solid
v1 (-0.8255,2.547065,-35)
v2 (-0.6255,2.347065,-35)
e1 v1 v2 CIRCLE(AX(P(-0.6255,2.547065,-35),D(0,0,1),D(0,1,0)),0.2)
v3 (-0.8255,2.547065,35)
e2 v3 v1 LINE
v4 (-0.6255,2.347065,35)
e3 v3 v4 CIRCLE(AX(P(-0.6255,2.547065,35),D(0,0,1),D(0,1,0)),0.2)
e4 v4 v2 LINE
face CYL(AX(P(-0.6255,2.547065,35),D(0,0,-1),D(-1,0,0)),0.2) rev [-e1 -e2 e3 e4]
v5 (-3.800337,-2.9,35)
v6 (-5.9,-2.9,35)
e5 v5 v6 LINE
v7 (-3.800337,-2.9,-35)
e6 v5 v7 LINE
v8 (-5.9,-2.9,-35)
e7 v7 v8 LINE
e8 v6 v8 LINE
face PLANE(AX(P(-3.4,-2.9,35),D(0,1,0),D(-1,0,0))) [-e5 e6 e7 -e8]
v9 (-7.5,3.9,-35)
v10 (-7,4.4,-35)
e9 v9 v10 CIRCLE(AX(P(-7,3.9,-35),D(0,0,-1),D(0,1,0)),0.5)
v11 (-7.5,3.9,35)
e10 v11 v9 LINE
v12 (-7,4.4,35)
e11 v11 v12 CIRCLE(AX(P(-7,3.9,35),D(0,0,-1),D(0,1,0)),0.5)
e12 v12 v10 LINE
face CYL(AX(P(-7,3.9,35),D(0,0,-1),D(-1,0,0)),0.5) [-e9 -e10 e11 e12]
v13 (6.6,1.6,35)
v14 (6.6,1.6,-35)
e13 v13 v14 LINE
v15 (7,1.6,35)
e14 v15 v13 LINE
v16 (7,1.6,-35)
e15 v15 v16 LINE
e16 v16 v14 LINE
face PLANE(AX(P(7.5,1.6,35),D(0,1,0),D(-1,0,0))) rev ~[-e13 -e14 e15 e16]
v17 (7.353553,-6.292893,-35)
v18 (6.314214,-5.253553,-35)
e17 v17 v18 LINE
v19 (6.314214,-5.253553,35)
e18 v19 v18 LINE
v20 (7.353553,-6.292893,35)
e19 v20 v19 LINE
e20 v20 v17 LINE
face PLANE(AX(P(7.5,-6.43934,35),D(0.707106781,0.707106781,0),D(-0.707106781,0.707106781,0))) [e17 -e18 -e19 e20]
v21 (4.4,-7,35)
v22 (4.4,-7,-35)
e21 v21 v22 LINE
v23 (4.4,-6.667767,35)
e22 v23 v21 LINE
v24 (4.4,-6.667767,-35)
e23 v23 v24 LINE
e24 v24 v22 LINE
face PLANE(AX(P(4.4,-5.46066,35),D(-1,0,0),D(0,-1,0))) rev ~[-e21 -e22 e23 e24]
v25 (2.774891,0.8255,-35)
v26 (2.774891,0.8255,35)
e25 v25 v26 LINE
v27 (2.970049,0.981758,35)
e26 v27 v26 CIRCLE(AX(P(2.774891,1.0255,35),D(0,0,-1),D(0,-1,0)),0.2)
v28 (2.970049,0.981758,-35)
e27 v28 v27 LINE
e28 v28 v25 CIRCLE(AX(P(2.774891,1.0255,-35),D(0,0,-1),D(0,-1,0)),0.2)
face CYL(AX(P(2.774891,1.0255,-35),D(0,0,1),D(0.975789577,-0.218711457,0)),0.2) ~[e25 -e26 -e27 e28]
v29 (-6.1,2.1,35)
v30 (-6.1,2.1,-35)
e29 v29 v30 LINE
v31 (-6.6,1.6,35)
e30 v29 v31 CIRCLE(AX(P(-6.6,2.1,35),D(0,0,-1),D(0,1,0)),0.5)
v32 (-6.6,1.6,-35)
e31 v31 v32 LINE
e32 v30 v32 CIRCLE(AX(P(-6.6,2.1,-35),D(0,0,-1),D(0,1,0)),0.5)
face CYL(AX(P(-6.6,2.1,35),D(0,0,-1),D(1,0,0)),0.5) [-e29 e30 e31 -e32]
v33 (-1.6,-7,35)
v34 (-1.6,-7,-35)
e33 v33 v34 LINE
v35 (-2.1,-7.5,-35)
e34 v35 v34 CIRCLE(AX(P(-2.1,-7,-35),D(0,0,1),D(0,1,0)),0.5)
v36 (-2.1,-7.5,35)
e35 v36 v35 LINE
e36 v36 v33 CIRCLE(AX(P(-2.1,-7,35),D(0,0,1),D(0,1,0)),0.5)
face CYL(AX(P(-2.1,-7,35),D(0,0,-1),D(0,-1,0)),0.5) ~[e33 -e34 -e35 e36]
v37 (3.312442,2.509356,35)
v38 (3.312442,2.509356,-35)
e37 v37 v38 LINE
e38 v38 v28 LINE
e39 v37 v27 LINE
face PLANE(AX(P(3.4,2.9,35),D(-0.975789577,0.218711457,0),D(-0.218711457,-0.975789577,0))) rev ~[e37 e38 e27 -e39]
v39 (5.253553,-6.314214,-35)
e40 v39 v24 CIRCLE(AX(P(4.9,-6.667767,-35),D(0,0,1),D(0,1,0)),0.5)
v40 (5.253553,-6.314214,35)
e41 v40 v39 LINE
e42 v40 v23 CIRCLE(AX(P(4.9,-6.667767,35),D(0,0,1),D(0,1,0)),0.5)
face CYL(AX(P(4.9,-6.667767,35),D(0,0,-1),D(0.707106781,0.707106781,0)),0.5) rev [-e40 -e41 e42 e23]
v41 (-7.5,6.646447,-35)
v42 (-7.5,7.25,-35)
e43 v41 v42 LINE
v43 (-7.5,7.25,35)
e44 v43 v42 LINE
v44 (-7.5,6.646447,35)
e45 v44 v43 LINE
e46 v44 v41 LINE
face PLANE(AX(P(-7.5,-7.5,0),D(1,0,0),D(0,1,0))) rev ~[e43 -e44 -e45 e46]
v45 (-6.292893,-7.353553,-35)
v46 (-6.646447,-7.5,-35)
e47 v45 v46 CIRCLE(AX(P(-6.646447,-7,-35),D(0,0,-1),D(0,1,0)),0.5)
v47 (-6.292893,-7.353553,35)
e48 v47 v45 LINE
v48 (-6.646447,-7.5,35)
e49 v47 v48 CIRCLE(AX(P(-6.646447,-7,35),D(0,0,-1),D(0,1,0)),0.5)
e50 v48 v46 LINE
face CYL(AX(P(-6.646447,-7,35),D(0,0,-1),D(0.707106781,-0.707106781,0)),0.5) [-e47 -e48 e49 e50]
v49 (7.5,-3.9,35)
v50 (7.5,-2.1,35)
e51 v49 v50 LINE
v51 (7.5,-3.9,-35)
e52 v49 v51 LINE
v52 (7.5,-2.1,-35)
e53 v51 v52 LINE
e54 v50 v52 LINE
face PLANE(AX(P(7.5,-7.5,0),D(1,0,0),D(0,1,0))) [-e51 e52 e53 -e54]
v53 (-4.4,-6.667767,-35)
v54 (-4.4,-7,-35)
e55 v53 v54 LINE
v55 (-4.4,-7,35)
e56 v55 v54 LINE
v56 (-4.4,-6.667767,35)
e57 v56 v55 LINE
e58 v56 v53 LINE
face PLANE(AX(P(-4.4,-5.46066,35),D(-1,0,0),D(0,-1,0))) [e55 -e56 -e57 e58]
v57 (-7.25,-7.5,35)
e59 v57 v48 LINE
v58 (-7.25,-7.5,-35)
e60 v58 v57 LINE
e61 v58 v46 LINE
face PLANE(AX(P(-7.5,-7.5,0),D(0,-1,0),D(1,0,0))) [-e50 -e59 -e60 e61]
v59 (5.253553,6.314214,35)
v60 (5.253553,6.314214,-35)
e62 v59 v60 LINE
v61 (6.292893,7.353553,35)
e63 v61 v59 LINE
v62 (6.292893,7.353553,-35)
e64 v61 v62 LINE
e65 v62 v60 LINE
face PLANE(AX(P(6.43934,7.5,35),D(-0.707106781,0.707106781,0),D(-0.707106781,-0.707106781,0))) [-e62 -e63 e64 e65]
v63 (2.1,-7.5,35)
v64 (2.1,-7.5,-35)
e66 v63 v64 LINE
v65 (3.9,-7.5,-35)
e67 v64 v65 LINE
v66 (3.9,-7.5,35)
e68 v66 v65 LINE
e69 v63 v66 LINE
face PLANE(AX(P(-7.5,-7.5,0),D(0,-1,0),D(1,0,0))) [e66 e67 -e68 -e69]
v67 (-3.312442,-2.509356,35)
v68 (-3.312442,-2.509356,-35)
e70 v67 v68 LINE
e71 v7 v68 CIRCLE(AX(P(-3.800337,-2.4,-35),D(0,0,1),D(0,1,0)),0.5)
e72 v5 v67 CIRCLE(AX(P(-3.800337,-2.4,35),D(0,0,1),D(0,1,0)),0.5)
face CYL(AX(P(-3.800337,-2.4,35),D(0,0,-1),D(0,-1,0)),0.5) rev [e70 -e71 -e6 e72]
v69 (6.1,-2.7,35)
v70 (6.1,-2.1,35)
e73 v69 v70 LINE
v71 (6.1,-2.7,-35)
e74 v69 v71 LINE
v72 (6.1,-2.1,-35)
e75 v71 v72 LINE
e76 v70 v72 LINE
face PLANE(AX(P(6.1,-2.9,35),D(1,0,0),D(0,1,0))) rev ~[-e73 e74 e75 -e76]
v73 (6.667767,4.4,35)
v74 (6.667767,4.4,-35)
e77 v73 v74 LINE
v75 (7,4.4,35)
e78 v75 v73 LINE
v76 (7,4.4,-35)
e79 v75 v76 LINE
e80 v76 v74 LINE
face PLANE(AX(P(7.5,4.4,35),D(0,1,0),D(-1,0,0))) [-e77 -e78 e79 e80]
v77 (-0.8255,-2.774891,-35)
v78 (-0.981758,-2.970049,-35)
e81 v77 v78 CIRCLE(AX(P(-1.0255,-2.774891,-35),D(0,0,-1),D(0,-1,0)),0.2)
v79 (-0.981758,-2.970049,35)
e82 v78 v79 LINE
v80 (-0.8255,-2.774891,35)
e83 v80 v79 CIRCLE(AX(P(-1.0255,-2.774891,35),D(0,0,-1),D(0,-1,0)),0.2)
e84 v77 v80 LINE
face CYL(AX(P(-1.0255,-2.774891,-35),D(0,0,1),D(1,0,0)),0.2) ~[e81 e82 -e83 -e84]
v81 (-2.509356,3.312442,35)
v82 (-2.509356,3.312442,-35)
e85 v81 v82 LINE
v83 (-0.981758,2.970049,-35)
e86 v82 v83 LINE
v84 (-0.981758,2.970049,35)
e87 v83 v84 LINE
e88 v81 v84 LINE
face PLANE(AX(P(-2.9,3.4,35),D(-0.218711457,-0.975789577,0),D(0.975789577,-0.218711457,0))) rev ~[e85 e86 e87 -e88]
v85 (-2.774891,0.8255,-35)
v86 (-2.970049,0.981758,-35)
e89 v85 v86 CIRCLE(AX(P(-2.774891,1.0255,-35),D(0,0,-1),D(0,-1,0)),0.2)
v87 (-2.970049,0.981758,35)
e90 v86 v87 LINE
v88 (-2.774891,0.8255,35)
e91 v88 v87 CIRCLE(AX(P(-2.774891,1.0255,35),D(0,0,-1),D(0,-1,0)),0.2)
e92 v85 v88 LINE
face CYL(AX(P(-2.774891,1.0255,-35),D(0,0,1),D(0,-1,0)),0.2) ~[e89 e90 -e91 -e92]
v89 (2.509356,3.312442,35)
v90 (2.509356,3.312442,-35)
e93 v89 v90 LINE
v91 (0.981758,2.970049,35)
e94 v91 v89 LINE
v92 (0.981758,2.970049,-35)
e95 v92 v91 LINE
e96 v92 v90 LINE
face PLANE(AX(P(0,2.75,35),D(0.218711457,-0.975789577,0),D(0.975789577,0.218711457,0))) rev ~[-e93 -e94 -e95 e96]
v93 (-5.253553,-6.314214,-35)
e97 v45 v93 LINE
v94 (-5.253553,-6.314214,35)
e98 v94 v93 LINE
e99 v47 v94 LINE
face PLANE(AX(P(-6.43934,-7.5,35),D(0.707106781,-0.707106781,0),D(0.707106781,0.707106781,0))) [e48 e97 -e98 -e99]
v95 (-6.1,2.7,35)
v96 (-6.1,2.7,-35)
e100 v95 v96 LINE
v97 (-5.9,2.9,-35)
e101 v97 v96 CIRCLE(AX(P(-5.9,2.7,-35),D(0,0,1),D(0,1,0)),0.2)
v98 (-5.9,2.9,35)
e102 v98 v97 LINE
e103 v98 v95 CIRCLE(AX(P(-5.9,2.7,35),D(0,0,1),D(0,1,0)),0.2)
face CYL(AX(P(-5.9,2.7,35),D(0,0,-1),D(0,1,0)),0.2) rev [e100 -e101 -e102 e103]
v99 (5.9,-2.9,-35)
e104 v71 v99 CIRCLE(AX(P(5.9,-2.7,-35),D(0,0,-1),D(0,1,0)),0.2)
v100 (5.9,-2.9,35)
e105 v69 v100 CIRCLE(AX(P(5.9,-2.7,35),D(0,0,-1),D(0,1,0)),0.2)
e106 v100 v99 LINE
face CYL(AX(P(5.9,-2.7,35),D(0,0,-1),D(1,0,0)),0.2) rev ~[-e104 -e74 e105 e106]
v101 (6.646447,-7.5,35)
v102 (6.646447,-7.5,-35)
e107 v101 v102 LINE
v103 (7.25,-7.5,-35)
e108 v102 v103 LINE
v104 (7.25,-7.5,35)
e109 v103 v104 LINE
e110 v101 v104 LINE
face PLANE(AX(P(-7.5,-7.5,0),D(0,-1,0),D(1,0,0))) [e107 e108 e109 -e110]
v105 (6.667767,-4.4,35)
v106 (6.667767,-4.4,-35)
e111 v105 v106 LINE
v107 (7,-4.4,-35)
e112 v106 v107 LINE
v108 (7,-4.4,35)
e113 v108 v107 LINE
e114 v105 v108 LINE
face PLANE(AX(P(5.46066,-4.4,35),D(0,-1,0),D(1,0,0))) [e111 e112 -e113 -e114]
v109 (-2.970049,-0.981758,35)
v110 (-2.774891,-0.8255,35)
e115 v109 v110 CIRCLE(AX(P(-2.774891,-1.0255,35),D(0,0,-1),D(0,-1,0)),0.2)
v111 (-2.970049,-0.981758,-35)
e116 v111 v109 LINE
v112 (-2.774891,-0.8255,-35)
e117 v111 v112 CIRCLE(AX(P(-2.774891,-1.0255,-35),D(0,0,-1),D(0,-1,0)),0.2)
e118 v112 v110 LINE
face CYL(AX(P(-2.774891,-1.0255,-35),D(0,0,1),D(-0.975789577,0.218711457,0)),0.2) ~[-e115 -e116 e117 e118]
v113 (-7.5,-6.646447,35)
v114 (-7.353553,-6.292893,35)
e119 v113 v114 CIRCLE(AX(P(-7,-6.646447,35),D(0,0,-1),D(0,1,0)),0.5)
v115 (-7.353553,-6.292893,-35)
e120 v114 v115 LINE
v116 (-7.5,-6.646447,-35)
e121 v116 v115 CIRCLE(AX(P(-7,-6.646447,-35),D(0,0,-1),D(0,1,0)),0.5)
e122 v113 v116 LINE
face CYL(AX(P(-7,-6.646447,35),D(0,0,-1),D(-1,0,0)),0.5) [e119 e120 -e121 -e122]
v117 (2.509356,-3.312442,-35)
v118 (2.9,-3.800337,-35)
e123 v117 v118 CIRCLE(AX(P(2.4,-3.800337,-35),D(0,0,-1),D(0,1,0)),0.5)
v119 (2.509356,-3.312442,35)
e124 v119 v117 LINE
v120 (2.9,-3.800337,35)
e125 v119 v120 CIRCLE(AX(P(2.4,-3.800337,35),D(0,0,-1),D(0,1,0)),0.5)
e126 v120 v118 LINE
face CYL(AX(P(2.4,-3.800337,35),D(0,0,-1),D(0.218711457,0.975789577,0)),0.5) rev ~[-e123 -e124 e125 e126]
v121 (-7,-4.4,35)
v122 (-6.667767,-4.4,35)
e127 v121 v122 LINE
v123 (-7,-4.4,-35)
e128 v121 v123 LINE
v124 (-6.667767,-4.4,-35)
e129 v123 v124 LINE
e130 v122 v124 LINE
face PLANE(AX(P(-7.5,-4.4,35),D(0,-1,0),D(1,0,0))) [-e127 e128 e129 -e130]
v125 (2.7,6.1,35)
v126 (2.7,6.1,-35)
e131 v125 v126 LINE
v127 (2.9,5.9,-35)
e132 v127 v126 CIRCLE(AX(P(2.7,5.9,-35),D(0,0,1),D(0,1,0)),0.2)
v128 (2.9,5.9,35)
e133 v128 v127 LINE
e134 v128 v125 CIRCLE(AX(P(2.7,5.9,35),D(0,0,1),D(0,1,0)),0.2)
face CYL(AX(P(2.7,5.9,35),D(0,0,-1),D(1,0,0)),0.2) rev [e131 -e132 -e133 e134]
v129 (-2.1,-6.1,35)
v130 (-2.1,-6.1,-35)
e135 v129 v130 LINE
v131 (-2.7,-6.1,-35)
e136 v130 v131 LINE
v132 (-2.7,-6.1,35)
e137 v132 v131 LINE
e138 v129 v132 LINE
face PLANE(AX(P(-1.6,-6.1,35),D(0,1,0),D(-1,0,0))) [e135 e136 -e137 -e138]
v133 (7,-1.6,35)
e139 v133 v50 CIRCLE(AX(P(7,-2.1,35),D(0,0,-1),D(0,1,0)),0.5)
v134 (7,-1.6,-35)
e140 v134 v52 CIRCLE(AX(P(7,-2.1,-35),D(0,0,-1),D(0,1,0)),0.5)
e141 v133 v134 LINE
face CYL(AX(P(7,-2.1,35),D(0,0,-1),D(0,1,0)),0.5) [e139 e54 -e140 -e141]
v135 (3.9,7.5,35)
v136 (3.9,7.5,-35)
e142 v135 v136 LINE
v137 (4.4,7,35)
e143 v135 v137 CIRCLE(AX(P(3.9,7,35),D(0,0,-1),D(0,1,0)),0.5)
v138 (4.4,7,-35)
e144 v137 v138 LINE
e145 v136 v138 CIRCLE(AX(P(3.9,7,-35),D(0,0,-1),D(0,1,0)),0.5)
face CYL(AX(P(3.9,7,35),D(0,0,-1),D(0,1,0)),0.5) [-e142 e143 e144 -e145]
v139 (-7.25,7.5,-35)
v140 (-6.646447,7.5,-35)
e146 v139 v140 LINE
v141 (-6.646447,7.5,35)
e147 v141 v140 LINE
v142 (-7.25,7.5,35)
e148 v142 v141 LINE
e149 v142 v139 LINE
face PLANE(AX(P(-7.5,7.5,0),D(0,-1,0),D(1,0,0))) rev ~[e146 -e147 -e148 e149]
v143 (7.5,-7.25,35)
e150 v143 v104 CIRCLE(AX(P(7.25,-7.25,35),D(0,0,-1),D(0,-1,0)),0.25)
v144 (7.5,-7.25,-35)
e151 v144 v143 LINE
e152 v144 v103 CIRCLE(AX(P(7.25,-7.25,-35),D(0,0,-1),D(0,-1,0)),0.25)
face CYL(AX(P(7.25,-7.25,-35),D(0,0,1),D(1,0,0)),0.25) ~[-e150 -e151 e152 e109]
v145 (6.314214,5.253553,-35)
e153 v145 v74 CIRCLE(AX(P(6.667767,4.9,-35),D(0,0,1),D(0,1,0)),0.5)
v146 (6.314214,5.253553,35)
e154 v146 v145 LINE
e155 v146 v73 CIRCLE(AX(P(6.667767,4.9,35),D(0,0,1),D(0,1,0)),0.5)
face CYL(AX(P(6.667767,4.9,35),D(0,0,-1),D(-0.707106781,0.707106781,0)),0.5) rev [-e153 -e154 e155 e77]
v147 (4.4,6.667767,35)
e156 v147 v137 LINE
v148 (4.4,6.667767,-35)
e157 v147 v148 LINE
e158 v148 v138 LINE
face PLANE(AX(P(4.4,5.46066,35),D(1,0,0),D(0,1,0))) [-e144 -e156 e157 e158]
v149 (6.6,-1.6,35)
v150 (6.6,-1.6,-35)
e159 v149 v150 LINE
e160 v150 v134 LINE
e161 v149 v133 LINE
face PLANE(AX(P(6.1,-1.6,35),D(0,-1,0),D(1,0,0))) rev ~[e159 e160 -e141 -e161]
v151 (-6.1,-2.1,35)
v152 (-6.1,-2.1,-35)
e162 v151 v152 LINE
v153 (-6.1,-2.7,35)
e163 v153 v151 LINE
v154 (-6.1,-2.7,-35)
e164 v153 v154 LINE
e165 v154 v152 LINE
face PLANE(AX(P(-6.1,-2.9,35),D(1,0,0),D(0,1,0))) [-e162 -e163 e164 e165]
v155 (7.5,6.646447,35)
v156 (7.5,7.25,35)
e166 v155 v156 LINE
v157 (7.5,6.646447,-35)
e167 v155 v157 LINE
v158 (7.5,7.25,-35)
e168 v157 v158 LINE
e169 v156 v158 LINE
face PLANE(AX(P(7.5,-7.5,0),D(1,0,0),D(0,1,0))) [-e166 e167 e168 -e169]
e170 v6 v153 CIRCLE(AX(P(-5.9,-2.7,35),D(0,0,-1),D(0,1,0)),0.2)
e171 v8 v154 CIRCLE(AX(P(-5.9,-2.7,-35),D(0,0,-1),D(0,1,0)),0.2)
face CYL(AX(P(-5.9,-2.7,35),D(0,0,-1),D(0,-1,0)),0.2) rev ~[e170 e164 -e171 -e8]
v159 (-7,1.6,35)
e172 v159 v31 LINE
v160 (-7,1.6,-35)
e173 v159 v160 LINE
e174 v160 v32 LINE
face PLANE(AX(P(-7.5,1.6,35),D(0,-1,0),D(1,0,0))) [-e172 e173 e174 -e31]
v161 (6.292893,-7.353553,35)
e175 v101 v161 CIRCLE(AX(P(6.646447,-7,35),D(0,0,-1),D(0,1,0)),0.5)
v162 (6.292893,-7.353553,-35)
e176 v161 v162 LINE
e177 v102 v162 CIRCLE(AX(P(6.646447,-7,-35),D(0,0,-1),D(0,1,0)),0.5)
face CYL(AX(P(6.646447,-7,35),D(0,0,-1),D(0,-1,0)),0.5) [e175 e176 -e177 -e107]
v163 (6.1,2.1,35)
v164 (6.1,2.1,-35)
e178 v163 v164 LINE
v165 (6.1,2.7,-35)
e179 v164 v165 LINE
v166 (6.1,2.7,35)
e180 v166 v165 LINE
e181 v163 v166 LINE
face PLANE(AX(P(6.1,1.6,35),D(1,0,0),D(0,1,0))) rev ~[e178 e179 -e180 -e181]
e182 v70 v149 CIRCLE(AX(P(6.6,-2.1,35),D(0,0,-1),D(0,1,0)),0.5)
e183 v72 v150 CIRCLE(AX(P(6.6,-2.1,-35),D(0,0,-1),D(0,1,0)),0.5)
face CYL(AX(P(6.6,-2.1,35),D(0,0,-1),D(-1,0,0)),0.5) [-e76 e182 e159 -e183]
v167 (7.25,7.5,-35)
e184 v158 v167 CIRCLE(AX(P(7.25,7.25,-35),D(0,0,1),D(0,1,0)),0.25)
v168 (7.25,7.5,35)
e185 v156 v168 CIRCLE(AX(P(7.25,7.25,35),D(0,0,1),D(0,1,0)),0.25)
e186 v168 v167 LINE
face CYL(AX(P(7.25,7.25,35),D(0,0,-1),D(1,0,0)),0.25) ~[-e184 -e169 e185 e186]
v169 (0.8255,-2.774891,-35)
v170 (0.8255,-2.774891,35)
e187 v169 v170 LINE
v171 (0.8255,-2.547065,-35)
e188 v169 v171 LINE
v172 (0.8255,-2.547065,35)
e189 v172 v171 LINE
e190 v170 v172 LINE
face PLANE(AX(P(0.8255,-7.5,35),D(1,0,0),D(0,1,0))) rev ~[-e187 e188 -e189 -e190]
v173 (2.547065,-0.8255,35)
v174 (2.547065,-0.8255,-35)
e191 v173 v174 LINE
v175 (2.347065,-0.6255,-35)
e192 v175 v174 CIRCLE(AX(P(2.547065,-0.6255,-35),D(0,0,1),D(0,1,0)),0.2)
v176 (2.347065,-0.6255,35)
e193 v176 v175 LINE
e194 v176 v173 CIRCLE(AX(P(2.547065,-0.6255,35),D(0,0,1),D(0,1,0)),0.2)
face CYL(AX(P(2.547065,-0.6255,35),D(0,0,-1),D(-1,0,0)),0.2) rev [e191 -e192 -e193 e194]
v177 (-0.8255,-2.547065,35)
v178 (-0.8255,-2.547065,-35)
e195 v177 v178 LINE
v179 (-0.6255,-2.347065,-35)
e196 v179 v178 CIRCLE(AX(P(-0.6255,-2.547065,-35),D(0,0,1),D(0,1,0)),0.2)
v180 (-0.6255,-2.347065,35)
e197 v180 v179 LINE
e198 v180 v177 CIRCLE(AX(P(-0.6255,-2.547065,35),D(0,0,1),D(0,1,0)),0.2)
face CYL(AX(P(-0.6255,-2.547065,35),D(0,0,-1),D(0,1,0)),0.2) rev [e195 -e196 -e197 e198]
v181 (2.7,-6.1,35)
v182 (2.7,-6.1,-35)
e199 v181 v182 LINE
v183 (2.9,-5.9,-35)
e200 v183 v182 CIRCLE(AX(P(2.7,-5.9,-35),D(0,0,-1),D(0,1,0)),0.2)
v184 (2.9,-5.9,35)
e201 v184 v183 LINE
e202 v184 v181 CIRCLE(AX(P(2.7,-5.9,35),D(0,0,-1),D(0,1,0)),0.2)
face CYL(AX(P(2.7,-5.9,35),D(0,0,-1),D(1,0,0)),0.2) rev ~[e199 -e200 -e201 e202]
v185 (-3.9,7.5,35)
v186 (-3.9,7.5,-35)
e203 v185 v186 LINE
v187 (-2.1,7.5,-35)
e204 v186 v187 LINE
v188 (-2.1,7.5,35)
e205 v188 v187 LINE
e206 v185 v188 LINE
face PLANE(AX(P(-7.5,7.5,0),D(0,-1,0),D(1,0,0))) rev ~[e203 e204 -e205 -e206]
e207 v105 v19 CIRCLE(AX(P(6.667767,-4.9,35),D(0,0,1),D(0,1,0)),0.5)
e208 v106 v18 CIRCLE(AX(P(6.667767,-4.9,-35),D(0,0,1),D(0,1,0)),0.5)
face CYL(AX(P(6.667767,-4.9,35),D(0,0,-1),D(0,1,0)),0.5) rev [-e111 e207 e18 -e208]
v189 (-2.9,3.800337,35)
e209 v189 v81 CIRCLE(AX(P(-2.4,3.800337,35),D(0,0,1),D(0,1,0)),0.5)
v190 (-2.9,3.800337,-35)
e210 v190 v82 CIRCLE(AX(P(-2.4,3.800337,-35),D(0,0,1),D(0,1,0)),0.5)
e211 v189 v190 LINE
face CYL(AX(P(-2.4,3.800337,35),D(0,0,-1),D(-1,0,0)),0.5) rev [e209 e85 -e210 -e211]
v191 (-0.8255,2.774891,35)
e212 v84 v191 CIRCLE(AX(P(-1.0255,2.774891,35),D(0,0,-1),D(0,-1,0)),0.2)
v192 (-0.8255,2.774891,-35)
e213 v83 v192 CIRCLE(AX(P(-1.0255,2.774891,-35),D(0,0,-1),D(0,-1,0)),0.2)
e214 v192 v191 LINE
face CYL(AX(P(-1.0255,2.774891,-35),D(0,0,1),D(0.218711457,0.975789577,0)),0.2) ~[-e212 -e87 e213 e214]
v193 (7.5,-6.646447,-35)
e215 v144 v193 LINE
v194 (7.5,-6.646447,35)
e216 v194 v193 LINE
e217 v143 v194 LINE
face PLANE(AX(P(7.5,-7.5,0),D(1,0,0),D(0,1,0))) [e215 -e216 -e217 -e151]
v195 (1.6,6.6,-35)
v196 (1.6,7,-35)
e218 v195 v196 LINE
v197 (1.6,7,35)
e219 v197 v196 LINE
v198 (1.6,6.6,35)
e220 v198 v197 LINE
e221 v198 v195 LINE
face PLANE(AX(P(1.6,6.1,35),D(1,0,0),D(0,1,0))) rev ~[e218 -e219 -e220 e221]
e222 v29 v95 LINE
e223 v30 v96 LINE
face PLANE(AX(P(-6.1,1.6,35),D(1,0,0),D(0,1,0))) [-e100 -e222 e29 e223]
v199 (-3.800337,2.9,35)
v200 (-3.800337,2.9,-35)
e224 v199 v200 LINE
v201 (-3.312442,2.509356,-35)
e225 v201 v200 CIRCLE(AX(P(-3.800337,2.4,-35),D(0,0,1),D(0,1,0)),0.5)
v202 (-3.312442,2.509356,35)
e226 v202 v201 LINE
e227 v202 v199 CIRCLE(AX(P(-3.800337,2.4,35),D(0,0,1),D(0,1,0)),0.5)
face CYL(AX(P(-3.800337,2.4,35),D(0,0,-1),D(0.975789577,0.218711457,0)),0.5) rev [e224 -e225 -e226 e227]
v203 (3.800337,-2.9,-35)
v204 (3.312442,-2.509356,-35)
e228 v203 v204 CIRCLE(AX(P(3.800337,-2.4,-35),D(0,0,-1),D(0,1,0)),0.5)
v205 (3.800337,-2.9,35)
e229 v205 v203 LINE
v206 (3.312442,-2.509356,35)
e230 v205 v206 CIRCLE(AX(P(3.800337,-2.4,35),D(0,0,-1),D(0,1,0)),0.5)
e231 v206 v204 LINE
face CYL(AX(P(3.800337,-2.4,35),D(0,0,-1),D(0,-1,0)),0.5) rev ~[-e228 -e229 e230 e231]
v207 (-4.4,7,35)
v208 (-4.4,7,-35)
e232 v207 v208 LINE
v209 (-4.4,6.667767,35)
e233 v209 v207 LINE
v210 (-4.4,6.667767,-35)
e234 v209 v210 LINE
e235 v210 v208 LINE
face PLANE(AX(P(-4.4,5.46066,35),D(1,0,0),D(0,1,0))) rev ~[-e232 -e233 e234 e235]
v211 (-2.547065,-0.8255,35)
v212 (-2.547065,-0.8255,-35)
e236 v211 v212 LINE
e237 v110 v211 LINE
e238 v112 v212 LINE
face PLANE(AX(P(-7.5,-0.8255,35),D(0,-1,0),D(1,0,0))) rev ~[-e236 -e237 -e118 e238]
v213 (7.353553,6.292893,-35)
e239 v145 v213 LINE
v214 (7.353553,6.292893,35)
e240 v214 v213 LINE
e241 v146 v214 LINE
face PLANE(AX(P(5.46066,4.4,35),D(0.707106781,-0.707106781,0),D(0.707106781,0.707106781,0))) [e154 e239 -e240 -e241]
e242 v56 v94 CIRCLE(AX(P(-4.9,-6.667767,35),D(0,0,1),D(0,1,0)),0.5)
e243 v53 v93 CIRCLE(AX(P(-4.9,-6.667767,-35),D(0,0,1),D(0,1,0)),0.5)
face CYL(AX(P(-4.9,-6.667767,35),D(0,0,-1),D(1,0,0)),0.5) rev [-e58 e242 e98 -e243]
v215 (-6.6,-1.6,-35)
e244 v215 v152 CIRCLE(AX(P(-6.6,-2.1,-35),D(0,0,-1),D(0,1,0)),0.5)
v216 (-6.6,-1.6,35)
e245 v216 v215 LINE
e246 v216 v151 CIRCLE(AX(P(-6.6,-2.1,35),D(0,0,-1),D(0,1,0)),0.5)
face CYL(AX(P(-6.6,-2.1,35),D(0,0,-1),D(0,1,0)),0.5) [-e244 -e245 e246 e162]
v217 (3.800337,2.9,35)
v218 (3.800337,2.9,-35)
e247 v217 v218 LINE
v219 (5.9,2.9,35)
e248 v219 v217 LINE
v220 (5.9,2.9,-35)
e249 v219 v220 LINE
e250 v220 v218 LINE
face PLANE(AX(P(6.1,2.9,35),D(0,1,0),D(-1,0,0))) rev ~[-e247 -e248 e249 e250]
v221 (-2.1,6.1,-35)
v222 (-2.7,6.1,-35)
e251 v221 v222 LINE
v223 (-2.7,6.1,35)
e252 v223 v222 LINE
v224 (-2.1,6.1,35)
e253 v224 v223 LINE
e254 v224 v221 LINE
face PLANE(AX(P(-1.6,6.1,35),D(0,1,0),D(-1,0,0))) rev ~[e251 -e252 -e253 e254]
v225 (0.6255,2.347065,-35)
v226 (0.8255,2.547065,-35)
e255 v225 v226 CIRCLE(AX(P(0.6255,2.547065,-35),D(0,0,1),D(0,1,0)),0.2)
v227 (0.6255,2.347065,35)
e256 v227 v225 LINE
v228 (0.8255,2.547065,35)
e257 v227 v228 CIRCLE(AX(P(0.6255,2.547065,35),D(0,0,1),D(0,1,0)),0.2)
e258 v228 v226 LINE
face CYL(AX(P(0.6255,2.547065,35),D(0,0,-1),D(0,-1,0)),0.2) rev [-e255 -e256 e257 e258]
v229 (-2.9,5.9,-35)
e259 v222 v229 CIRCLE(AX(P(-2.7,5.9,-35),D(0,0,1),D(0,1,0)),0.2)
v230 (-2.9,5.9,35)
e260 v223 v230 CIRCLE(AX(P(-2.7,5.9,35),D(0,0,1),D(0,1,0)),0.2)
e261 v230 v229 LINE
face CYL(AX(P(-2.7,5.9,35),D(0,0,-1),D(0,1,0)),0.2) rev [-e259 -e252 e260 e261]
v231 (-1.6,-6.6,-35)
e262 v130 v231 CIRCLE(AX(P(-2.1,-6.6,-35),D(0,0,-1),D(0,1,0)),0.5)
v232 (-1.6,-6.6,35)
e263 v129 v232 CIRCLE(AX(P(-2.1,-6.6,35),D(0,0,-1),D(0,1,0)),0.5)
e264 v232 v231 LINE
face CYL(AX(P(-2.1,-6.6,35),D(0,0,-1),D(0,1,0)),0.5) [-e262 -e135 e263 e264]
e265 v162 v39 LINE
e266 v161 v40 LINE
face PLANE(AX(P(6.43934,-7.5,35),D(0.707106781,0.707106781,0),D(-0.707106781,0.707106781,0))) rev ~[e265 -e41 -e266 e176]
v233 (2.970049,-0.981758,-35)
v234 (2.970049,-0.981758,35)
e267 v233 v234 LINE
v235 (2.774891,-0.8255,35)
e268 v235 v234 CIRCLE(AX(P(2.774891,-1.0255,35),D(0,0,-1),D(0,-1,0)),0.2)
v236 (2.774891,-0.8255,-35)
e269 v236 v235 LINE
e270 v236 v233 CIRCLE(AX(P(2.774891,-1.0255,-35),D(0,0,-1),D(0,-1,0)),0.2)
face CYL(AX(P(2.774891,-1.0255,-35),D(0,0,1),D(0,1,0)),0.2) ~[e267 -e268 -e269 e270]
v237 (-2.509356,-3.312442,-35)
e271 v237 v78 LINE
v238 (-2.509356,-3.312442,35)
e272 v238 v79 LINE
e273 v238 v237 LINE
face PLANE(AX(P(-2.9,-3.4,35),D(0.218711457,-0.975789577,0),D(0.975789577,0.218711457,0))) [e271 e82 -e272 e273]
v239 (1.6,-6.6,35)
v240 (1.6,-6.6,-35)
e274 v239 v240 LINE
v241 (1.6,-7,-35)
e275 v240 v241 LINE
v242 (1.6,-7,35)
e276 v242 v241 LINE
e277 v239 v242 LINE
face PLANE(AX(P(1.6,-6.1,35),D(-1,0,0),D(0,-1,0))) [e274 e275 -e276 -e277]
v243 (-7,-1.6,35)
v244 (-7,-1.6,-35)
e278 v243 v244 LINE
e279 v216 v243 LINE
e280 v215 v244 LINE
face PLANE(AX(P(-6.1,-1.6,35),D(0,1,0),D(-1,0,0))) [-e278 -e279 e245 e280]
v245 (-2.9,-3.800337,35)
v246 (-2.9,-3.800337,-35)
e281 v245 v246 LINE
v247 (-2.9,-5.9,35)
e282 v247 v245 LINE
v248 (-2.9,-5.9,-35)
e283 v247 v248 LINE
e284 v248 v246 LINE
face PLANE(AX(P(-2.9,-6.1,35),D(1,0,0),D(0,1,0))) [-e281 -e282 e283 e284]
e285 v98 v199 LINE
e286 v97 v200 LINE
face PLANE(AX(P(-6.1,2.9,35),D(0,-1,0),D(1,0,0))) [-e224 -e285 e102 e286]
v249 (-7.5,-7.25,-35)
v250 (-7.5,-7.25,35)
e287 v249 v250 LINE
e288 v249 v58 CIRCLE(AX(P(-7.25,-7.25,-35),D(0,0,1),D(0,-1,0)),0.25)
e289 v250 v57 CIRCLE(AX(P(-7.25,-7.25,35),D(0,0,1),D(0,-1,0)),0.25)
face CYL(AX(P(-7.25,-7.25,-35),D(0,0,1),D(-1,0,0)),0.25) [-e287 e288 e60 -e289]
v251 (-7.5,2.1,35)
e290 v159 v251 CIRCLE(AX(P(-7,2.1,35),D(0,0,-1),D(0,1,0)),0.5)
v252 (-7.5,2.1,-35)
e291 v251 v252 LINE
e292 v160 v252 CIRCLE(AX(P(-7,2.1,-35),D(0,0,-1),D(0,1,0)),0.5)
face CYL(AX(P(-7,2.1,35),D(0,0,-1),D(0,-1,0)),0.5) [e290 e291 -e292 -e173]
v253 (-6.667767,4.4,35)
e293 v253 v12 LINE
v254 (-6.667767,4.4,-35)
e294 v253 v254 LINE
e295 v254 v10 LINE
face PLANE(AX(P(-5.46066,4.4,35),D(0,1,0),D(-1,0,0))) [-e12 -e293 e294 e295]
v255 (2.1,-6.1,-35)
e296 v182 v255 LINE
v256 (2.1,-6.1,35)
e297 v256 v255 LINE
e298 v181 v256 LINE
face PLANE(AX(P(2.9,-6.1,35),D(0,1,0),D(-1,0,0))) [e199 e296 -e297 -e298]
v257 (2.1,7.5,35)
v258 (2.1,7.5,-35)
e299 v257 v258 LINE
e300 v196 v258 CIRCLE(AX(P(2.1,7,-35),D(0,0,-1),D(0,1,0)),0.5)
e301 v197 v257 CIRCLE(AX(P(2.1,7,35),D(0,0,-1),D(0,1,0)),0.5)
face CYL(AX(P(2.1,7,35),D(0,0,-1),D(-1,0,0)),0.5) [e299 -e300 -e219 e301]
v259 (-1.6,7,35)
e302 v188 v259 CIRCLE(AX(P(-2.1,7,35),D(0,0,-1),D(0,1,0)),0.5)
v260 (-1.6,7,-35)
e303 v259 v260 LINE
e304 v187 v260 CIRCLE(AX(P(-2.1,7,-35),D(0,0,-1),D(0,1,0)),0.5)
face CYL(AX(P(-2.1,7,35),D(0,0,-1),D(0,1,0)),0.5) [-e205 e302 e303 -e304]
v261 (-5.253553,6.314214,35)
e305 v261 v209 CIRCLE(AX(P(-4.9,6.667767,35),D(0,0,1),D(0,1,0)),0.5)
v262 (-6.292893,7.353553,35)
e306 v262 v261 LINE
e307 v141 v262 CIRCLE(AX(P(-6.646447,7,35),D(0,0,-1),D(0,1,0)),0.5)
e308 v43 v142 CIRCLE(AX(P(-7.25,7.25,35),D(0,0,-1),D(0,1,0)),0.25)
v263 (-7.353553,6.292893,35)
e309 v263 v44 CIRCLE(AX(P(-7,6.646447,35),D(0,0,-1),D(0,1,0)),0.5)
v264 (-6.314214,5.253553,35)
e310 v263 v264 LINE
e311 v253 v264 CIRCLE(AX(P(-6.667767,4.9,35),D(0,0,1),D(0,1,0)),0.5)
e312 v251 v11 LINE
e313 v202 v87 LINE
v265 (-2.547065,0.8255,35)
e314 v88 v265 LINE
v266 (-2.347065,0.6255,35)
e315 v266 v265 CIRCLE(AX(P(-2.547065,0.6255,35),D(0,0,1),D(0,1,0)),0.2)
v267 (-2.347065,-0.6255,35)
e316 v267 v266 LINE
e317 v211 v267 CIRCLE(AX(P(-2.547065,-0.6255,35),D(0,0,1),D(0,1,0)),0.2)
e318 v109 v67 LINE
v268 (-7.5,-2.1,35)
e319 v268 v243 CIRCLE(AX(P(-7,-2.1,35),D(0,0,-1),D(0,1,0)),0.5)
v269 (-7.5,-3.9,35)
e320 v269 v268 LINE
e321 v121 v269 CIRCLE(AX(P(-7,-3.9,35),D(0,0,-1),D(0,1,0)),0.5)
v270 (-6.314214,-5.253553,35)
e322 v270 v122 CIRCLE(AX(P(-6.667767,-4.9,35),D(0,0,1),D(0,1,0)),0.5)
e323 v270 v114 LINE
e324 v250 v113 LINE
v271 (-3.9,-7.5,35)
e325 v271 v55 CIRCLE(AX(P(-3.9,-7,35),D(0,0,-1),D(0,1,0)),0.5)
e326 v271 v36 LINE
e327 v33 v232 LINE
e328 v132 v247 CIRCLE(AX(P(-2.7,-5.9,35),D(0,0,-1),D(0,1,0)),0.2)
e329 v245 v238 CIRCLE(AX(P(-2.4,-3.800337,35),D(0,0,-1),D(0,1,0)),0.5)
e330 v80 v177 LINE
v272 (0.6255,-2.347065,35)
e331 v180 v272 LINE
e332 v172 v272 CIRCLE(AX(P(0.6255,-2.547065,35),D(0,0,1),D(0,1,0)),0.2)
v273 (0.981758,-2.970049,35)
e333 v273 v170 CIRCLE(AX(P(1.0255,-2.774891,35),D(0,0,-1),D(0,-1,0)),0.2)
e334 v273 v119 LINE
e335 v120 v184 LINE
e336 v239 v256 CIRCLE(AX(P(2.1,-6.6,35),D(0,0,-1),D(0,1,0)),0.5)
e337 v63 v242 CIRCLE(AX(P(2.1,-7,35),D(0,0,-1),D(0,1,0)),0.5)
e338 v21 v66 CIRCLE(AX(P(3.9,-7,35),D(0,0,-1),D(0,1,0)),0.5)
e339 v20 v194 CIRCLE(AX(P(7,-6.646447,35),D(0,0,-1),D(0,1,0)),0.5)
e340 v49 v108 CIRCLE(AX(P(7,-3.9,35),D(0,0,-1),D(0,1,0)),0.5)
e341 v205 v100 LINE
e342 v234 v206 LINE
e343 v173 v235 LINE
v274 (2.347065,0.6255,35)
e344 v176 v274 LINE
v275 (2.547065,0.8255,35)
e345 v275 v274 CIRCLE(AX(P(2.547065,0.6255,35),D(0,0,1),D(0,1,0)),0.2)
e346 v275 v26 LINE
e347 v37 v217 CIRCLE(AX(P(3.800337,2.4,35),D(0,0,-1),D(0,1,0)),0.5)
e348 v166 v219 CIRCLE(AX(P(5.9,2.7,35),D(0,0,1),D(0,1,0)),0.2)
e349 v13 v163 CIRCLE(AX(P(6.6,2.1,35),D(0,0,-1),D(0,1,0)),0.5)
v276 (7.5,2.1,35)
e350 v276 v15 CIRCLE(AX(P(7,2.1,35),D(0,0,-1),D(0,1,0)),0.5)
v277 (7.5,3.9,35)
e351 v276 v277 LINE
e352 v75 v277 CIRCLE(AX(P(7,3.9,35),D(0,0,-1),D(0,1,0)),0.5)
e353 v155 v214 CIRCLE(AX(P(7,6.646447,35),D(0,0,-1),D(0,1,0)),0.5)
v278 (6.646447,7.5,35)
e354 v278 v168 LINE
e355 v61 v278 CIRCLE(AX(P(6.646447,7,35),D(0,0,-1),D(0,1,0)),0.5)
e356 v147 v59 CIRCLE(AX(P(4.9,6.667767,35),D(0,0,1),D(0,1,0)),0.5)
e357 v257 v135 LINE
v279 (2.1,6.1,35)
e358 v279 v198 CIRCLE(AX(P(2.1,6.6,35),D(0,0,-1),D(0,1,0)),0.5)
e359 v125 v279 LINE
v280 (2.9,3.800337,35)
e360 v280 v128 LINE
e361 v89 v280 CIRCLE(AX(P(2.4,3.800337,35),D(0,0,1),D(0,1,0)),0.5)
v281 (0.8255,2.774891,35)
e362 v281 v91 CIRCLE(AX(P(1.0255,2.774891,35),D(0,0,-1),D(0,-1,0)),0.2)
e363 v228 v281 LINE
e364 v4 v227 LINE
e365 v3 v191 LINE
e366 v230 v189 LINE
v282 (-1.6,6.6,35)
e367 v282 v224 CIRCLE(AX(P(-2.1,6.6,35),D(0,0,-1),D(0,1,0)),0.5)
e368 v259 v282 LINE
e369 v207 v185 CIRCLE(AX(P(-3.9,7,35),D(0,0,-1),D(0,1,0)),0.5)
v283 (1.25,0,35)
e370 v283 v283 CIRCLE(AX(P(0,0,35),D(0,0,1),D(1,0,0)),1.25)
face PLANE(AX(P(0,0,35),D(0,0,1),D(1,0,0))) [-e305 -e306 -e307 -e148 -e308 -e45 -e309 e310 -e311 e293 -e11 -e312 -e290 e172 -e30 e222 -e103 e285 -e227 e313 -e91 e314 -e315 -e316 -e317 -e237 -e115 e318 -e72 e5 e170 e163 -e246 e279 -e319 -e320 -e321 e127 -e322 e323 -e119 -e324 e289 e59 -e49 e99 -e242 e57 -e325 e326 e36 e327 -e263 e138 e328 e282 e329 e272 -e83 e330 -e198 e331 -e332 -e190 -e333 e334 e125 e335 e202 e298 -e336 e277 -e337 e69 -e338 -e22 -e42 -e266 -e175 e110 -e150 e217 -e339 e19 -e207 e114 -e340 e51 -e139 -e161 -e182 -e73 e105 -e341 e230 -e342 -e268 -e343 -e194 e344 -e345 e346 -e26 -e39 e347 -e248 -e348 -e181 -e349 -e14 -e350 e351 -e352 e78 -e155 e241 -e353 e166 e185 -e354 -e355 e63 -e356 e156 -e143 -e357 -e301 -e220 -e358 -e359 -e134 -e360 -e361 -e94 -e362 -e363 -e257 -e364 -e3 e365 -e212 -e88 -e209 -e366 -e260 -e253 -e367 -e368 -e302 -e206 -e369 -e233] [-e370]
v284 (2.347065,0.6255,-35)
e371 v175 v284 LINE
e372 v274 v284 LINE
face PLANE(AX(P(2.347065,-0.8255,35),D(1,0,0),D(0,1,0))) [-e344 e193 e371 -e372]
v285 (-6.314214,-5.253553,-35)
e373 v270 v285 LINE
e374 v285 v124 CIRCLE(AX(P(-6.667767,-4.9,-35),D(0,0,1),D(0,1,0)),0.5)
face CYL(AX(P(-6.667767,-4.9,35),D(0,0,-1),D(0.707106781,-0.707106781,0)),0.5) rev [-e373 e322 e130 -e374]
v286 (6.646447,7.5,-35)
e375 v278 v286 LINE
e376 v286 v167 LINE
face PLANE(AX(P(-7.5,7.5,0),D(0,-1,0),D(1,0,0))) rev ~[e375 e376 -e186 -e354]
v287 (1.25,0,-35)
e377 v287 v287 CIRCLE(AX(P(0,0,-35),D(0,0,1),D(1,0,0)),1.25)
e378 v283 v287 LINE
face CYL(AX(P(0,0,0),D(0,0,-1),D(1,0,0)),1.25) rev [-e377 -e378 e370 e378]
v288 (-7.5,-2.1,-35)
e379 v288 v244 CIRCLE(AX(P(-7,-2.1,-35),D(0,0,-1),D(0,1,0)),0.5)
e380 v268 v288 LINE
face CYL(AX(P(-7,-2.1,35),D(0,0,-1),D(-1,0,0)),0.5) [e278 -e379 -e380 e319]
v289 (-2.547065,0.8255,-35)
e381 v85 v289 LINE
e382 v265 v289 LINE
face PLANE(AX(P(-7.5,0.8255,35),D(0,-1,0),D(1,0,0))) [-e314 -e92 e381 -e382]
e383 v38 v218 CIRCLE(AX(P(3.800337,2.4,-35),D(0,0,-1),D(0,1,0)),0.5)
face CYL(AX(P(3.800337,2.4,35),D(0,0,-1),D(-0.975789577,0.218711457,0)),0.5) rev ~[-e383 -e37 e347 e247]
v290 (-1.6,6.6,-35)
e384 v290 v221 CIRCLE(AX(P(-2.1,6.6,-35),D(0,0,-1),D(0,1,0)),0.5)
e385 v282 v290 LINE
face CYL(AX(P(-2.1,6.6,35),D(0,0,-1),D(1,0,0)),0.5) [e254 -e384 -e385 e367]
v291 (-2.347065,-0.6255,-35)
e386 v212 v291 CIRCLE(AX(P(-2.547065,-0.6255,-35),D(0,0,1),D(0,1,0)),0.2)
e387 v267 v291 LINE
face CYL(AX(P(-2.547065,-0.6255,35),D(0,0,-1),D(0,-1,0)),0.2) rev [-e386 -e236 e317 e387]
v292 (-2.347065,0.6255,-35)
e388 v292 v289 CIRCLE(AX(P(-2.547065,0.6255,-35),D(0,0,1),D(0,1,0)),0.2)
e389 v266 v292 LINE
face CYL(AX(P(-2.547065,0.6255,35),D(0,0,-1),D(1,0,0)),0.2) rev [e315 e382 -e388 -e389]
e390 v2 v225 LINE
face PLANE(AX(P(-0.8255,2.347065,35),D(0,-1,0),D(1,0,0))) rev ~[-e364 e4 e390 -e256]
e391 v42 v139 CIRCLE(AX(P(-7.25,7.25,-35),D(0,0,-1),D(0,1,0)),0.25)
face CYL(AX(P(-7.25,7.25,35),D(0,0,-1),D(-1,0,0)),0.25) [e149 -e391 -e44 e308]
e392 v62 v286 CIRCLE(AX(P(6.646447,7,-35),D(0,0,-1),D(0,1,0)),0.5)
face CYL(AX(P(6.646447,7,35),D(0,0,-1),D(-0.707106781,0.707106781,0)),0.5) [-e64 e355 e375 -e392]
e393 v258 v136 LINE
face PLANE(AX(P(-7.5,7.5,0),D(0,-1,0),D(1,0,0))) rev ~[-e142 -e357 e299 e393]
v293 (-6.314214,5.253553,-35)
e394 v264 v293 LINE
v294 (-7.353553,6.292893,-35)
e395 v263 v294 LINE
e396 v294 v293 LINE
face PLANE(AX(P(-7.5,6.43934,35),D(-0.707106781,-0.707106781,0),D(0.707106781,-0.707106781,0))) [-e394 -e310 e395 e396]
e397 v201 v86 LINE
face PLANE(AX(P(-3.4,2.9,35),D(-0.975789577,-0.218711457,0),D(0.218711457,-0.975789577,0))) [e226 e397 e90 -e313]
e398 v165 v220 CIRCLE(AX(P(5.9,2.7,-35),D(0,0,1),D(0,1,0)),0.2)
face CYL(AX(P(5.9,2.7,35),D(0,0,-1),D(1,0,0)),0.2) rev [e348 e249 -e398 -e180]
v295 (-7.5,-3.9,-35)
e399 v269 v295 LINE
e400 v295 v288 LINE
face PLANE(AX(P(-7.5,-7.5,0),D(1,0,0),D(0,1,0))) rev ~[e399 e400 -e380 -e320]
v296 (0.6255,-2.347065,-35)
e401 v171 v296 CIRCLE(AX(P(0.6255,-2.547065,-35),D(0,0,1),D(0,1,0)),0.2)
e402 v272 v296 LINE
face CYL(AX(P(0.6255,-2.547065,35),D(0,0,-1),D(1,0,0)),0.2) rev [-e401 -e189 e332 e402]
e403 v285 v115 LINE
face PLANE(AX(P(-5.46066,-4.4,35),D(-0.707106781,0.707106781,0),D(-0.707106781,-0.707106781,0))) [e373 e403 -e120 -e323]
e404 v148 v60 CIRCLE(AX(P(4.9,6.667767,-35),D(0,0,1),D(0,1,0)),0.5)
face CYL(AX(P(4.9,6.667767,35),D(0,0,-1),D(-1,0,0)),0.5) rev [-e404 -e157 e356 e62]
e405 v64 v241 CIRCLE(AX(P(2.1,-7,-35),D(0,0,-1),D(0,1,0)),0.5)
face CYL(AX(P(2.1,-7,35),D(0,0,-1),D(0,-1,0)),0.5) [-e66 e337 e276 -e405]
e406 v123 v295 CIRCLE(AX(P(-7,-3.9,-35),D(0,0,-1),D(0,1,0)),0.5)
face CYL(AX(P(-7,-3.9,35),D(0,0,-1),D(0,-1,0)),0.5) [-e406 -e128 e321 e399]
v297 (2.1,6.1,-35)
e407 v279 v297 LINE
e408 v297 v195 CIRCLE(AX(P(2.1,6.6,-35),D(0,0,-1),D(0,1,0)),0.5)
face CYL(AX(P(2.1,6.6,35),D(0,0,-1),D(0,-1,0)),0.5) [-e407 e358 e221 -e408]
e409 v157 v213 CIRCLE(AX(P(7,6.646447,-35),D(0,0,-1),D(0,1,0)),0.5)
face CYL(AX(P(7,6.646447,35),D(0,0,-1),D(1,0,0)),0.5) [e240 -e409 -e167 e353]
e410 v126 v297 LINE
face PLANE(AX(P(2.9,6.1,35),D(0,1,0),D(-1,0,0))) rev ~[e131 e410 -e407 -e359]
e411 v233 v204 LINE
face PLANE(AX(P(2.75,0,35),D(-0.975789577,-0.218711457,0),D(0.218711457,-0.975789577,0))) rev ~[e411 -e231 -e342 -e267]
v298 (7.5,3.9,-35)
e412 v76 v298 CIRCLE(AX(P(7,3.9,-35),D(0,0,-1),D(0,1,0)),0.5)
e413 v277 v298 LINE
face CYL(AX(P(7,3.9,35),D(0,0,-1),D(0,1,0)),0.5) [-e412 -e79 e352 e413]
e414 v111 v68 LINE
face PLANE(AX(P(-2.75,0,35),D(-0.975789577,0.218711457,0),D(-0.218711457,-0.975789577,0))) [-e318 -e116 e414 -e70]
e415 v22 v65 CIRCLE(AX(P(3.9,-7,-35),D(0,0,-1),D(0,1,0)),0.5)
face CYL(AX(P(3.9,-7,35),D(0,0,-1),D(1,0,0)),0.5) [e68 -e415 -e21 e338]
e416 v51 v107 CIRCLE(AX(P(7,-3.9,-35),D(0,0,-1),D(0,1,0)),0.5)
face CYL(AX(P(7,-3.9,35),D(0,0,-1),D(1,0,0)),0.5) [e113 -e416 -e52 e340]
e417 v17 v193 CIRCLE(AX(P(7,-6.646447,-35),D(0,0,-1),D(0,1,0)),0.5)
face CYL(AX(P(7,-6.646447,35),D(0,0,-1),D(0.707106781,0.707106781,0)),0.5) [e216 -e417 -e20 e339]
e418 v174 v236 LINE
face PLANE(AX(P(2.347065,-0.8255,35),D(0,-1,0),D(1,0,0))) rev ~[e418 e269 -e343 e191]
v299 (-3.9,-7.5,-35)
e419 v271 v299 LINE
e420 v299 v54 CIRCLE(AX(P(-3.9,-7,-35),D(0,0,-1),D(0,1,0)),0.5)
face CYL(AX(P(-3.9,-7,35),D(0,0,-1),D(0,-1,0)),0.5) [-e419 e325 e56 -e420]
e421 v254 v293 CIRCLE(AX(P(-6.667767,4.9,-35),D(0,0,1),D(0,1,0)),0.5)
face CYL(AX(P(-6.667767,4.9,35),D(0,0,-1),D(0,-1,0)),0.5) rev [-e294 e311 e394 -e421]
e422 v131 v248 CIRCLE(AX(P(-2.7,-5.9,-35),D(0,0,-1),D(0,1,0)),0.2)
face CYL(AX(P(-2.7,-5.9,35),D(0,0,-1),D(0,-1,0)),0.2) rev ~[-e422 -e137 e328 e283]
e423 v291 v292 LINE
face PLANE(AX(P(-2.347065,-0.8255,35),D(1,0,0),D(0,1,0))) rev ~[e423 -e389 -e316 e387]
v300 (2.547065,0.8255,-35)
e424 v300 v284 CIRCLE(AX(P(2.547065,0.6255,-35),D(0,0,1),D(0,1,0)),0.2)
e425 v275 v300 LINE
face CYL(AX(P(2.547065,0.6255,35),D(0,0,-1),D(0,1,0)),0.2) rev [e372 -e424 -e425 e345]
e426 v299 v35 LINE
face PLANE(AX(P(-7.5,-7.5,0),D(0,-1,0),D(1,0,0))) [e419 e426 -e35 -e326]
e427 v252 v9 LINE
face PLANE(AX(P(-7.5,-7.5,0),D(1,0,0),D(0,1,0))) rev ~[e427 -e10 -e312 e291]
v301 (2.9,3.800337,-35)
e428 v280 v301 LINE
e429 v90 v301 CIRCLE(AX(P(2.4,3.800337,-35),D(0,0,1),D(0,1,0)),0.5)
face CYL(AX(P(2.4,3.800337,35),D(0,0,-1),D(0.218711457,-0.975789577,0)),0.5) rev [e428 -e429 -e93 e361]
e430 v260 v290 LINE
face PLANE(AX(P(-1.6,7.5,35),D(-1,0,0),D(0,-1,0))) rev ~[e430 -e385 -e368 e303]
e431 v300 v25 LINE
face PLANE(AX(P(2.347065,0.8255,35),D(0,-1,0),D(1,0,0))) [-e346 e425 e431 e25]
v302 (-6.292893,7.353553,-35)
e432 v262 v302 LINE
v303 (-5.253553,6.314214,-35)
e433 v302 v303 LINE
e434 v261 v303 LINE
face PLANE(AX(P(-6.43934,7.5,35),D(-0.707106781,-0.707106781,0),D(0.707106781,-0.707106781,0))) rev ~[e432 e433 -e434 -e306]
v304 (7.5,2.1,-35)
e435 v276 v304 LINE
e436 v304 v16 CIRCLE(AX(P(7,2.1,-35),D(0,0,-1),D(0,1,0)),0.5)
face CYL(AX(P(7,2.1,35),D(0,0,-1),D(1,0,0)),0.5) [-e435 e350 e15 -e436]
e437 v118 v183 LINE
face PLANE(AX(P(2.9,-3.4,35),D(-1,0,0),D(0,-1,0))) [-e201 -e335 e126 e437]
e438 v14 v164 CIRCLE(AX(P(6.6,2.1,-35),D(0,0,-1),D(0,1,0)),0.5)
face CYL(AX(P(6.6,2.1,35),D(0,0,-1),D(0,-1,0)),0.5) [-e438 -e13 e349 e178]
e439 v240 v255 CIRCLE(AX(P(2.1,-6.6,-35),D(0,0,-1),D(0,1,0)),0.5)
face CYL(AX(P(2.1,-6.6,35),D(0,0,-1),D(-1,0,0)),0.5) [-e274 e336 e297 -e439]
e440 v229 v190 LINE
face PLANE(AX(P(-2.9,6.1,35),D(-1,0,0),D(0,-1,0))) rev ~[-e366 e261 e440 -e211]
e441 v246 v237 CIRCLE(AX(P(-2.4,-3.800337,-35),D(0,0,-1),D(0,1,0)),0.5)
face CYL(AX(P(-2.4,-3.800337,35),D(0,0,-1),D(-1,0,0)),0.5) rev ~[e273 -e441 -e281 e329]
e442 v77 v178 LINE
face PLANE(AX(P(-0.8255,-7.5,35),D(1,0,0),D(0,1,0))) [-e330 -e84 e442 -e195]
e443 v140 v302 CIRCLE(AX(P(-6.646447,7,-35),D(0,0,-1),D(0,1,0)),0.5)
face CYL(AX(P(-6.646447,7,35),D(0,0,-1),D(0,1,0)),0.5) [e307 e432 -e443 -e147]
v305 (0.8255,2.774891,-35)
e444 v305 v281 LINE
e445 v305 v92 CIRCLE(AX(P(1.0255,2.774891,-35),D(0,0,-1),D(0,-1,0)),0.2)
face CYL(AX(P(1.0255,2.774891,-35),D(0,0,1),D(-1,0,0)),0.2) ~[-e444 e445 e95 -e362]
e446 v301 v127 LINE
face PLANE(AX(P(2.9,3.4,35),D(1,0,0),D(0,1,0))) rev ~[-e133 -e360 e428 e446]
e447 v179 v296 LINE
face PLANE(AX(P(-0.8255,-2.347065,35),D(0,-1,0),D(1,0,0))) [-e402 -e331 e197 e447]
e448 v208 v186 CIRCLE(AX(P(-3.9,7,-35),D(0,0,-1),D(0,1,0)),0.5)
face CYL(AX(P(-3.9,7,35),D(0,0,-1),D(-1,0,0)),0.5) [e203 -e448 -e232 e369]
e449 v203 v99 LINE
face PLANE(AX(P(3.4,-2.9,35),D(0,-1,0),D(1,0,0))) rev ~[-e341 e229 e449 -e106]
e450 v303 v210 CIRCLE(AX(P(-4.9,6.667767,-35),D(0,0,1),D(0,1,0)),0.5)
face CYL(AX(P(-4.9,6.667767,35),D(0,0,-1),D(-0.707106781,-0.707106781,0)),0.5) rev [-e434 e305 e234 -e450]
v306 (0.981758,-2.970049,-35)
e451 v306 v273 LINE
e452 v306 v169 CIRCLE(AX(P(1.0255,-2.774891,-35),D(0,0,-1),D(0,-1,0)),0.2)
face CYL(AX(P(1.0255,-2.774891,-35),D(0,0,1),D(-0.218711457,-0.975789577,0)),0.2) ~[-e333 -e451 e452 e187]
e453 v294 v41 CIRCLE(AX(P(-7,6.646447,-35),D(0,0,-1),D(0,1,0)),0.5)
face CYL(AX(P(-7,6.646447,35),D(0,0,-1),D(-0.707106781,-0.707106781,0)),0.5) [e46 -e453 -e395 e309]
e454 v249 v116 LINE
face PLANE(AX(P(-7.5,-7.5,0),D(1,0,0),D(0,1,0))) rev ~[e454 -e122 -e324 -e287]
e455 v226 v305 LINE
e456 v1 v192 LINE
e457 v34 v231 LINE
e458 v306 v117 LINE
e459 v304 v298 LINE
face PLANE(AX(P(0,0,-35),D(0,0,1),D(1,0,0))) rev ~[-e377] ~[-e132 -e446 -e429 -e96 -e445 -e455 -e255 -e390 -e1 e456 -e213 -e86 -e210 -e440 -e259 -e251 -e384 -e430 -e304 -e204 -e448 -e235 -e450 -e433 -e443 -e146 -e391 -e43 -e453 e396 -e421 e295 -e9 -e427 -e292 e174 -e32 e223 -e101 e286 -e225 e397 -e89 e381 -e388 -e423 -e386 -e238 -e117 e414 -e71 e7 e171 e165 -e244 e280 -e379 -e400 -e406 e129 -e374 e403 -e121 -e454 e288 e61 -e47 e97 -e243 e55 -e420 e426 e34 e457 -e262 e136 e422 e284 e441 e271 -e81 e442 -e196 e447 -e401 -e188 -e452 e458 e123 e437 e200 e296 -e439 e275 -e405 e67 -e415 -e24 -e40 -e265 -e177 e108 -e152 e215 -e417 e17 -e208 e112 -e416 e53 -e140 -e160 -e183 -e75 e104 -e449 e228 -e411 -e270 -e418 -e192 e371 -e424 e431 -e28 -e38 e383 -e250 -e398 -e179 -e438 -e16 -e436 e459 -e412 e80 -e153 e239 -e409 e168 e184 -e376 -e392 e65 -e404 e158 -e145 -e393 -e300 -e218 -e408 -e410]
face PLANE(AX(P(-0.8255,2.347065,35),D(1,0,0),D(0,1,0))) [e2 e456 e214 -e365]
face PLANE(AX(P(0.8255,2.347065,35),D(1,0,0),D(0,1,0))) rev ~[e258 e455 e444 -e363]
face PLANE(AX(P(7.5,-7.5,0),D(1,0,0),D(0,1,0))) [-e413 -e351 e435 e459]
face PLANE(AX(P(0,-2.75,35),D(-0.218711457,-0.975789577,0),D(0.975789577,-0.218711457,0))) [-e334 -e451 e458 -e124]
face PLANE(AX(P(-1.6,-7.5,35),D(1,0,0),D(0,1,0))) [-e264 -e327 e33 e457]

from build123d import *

# Parameters (mm, degrees)
SKETCH1_W           = 15
SKETCH1_H           = 15
SKETCH1_R           = 1.25
BOSS_EXTRUDE1_DEPTH = 35
FILLET1_R           = 0.25
CUT_EXTRUDE1_DEPTH  = 71.799011293
CUT_EXTRUDE3_DEPTH  = 71.799011293
FILLET3_R           = 0.5
FILLET4_R           = 0.5
FILLET5_R           = 3
FILLET6_R           = 0.2
CUT_EXTRUDE4_DEPTH  = 71.799011293
FILLET8_R           = 0.5
SKETCH6_W           = 5.1529354
SKETCH6_H           = 1.651
SKETCH6_W_2         = 1.651
SKETCH6_H_2         = 5.1529354
CUT_EXTRUDE5_DEPTH  = 71.799011293
FILLET10_R          = 0.2


with BuildPart() as part:
    # Sketch1 → Boss-Extrude1 (new, symmetric)
    with BuildSketch(Plane.XY):
        Rectangle(SKETCH1_W, SKETCH1_H)
        Circle(SKETCH1_R, mode=Mode.SUBTRACT)
    extrude(amount=BOSS_EXTRUDE1_DEPTH, both=True)

    # Fillet1
    fillet1_edges = [part.edges().sort_by_distance(p)[0] for p in [
        (7.5, -7.5, 0),
        (-7.5, -7.5, 0),
        (-7.5, 7.5, 0),
        (7.5, 7.5, 0),
    ]]
    fillet(fillet1_edges, radius=FILLET1_R)

    # Sketch2 → Cut-Extrude1 (cut, through all)
    with BuildSketch(Plane.XY.offset(35)):
        Polygon((-7.5, 1.6), (-6.1, 1.6), (-6.1, 2.9), (-3.4, 2.9), (-3.4, -2.9), (-6.1, -2.9), (-6.1, -1.6), (-7.5, -1.6), align=None)
        Polygon((2.9, 6.1), (1.6, 6.1), (1.6, 7.5), (-1.6, 7.5), (-1.6, 6.1), (-2.9, 6.1), (-2.9, 3.4), (2.9, 3.4), align=None)
        Polygon((-1.6, -7.5), (-1.6, -6.1), (-2.9, -6.1), (-2.9, -3.4), (2.9, -3.4), (2.9, -6.1), (1.6, -6.1), (1.6, -7.5), align=None)
        Polygon((6.1, -2.9), (6.1, -1.6), (7.5, -1.6), (7.5, 1.6), (6.1, 1.6), (6.1, 2.9), (3.4, 2.9), (3.4, -2.9), align=None)
    extrude(amount=-CUT_EXTRUDE1_DEPTH, mode=Mode.SUBTRACT)

    # Sketch4 → Cut-Extrude3 (cut, through all)
    with BuildSketch(Plane.XY.offset(35)):
        Polygon((-3.4, 2.9), (-2.75, 0), (-3.4, -2.9), align=None)
        Polygon((-2.9, 3.4), (0, 2.75), (2.9, 3.4), align=None)
        Polygon((3.4, 2.9), (2.75, 0), (3.4, -2.9), align=None)
        Polygon((-2.9, -3.4), (0, -2.75), (2.9, -3.4), align=None)
    extrude(amount=-CUT_EXTRUDE3_DEPTH, mode=Mode.SUBTRACT)

    # Fillet3
    fillet3_edges = [part.edges().sort_by_distance(p)[0] for p in [
        (1.6, -7.5, 0),
        (-1.6, -7.5, 0),
        (-1.6, -6.1, 0),
        (1.6, -6.1, 0),
        (6.1, 1.6, 0),
        (7.5, 1.6, 0),
        (7.5, -1.6, 0),
        (6.1, -1.6, 0),
        (-7.5, -1.6, 0),
        (-7.5, 1.6, 0),
        (-6.1, 1.6, 0),
        (-6.1, -1.6, 0),
        (-1.6, 6.1, 0),
        (-1.6, 7.5, 0),
        (1.6, 7.5, 0),
        (1.6, 6.1, 0),
    ]]
    fillet(fillet3_edges, radius=FILLET3_R)

    # Fillet4
    fillet4_edges = [part.edges().sort_by_distance(p)[0] for p in [
        (-2.9, -3.4, 0),
        (2.9, -3.4, 0),
        (3.4, -2.9, 0),
        (3.4, 2.9, 0),
        (-3.4, 2.9, 0),
        (-3.4, -2.9, 0),
        (2.9, 3.4, 0),
        (-2.9, 3.4, 0),
    ]]
    fillet(fillet4_edges, radius=FILLET4_R)

    # Fillet5
    fillet5_edges = [part.edges().sort_by_distance(p)[0] for p in [
        (-2.75, 0, 0),
        (0, 2.75, 0),
        (2.75, 0, 0),
        (0, -2.75, 0),
    ]]
    fillet(fillet5_edges, radius=FILLET5_R)

    # Fillet6
    fillet6_edges = [part.edges().sort_by_distance(p)[0] for p in [
        (-2.9, -6.1, 0),
        (2.9, -6.1, 0),
        (6.1, -2.9, 0),
        (6.1, 2.9, 0),
        (-6.1, 2.9, 0),
        (-6.1, -2.9, 0),
        (2.9, 6.1, 0),
        (-2.9, 6.1, 0),
    ]]
    fillet(fillet6_edges, radius=FILLET6_R)

    # Sketch5 → Cut-Extrude4 (cut, through all)
    with BuildSketch(Plane.XY.offset(35)):
        Polygon((-7.5, 6.439339828), (-5.460660172, 4.4), (-7.5, 4.4), align=None)
        Polygon((-6.439339828, 7.5), (-4.4, 5.460660172), (-4.4, 7.5), align=None)
        Polygon((4.4, 7.5), (6.439339828, 7.5), (4.4, 5.460660172), align=None)
        Polygon((7.5, 6.439339828), (7.5, 4.4), (5.460660172, 4.4), align=None)
        Polygon((7.5, -6.439339828), (5.460660172, -4.4), (7.5, -4.4), align=None)
        Polygon((6.439339828, -7.5), (4.4, -5.460660172), (4.4, -7.5), align=None)
        Polygon((-4.4, -7.5), (-6.439339828, -7.5), (-4.4, -5.460660172), align=None)
        Polygon((-7.5, -6.439339828), (-7.5, -4.4), (-5.460660172, -4.4), align=None)
    extrude(amount=-CUT_EXTRUDE4_DEPTH, mode=Mode.SUBTRACT)

    # Fillet8
    fillet8_edges = [part.edges().sort_by_distance(p)[0] for p in [
        (-7.5, 4.4, 0),
        (-7.5, 6.439339828, 0),
        (-5.460660172, 4.4, 0),
        (7.5, -4.4, 0),
        (7.5, -6.439339828, 0),
        (5.460660172, -4.4, 0),
        (5.460660172, 4.4, 0),
        (7.5, 6.439339828, 0),
        (7.5, 4.4, 0),
        (-4.4, 7.5, 0),
        (-4.4, 5.460660172, 0),
        (-6.439339828, 7.5, 0),
        (-5.460660172, -4.4, 0),
        (-7.5, -6.439339828, 0),
        (-7.5, -4.4, 0),
        (4.4, 5.460660172, 0),
        (4.4, 7.5, 0),
        (6.439339828, 7.5, 0),
        (6.439339828, -7.5, 0),
        (4.4, -7.5, 0),
        (4.4, -5.460660172, 0),
        (-6.439339828, -7.5, 0),
        (-4.4, -5.460660172, 0),
        (-4.4, -7.5, 0),
    ]]
    fillet(fillet8_edges, radius=FILLET8_R)

    # Sketch6 → Cut-Extrude5 (cut, through all)
    with BuildSketch(Plane.XY.offset(35)):
        with Locations((4.9235323, 0)):
            Rectangle(SKETCH6_W, SKETCH6_H)
        with Locations((0, -4.9235323)):
            Rectangle(SKETCH6_W_2, SKETCH6_H_2)
        with Locations((-4.9235323, 0)):
            Rectangle(SKETCH6_W, SKETCH6_H)
        with Locations((0, 4.9235323)):
            Rectangle(SKETCH6_W_2, SKETCH6_H_2)
    extrude(amount=-CUT_EXTRUDE5_DEPTH, mode=Mode.SUBTRACT)

    # Fillet10
    fillet10_edges = [part.edges().sort_by_distance(p)[0] for p in [
        (0.8255, -2.935025862, 0),
        (-0.8255, -2.935025862, 0),
        (0.8255, -2.3470646, 0),
        (-0.8255, -2.3470646, 0),
        (2.935025862, 0.8255, 0),
        (2.935025862, -0.8255, 0),
        (2.3470646, 0.8255, 0),
        (2.3470646, -0.8255, 0),
        (-2.935025862, -0.8255, 0),
        (-2.935025862, 0.8255, 0),
        (-2.3470646, -0.8255, 0),
        (-2.3470646, 0.8255, 0),
        (-0.8255, 2.935025862, 0),
        (0.8255, 2.935025862, 0),
        (-0.8255, 2.3470646, 0),
        (0.8255, 2.3470646, 0),
    ]]
    fillet(fillet10_edges, radius=FILLET10_R)


solid = part.part
